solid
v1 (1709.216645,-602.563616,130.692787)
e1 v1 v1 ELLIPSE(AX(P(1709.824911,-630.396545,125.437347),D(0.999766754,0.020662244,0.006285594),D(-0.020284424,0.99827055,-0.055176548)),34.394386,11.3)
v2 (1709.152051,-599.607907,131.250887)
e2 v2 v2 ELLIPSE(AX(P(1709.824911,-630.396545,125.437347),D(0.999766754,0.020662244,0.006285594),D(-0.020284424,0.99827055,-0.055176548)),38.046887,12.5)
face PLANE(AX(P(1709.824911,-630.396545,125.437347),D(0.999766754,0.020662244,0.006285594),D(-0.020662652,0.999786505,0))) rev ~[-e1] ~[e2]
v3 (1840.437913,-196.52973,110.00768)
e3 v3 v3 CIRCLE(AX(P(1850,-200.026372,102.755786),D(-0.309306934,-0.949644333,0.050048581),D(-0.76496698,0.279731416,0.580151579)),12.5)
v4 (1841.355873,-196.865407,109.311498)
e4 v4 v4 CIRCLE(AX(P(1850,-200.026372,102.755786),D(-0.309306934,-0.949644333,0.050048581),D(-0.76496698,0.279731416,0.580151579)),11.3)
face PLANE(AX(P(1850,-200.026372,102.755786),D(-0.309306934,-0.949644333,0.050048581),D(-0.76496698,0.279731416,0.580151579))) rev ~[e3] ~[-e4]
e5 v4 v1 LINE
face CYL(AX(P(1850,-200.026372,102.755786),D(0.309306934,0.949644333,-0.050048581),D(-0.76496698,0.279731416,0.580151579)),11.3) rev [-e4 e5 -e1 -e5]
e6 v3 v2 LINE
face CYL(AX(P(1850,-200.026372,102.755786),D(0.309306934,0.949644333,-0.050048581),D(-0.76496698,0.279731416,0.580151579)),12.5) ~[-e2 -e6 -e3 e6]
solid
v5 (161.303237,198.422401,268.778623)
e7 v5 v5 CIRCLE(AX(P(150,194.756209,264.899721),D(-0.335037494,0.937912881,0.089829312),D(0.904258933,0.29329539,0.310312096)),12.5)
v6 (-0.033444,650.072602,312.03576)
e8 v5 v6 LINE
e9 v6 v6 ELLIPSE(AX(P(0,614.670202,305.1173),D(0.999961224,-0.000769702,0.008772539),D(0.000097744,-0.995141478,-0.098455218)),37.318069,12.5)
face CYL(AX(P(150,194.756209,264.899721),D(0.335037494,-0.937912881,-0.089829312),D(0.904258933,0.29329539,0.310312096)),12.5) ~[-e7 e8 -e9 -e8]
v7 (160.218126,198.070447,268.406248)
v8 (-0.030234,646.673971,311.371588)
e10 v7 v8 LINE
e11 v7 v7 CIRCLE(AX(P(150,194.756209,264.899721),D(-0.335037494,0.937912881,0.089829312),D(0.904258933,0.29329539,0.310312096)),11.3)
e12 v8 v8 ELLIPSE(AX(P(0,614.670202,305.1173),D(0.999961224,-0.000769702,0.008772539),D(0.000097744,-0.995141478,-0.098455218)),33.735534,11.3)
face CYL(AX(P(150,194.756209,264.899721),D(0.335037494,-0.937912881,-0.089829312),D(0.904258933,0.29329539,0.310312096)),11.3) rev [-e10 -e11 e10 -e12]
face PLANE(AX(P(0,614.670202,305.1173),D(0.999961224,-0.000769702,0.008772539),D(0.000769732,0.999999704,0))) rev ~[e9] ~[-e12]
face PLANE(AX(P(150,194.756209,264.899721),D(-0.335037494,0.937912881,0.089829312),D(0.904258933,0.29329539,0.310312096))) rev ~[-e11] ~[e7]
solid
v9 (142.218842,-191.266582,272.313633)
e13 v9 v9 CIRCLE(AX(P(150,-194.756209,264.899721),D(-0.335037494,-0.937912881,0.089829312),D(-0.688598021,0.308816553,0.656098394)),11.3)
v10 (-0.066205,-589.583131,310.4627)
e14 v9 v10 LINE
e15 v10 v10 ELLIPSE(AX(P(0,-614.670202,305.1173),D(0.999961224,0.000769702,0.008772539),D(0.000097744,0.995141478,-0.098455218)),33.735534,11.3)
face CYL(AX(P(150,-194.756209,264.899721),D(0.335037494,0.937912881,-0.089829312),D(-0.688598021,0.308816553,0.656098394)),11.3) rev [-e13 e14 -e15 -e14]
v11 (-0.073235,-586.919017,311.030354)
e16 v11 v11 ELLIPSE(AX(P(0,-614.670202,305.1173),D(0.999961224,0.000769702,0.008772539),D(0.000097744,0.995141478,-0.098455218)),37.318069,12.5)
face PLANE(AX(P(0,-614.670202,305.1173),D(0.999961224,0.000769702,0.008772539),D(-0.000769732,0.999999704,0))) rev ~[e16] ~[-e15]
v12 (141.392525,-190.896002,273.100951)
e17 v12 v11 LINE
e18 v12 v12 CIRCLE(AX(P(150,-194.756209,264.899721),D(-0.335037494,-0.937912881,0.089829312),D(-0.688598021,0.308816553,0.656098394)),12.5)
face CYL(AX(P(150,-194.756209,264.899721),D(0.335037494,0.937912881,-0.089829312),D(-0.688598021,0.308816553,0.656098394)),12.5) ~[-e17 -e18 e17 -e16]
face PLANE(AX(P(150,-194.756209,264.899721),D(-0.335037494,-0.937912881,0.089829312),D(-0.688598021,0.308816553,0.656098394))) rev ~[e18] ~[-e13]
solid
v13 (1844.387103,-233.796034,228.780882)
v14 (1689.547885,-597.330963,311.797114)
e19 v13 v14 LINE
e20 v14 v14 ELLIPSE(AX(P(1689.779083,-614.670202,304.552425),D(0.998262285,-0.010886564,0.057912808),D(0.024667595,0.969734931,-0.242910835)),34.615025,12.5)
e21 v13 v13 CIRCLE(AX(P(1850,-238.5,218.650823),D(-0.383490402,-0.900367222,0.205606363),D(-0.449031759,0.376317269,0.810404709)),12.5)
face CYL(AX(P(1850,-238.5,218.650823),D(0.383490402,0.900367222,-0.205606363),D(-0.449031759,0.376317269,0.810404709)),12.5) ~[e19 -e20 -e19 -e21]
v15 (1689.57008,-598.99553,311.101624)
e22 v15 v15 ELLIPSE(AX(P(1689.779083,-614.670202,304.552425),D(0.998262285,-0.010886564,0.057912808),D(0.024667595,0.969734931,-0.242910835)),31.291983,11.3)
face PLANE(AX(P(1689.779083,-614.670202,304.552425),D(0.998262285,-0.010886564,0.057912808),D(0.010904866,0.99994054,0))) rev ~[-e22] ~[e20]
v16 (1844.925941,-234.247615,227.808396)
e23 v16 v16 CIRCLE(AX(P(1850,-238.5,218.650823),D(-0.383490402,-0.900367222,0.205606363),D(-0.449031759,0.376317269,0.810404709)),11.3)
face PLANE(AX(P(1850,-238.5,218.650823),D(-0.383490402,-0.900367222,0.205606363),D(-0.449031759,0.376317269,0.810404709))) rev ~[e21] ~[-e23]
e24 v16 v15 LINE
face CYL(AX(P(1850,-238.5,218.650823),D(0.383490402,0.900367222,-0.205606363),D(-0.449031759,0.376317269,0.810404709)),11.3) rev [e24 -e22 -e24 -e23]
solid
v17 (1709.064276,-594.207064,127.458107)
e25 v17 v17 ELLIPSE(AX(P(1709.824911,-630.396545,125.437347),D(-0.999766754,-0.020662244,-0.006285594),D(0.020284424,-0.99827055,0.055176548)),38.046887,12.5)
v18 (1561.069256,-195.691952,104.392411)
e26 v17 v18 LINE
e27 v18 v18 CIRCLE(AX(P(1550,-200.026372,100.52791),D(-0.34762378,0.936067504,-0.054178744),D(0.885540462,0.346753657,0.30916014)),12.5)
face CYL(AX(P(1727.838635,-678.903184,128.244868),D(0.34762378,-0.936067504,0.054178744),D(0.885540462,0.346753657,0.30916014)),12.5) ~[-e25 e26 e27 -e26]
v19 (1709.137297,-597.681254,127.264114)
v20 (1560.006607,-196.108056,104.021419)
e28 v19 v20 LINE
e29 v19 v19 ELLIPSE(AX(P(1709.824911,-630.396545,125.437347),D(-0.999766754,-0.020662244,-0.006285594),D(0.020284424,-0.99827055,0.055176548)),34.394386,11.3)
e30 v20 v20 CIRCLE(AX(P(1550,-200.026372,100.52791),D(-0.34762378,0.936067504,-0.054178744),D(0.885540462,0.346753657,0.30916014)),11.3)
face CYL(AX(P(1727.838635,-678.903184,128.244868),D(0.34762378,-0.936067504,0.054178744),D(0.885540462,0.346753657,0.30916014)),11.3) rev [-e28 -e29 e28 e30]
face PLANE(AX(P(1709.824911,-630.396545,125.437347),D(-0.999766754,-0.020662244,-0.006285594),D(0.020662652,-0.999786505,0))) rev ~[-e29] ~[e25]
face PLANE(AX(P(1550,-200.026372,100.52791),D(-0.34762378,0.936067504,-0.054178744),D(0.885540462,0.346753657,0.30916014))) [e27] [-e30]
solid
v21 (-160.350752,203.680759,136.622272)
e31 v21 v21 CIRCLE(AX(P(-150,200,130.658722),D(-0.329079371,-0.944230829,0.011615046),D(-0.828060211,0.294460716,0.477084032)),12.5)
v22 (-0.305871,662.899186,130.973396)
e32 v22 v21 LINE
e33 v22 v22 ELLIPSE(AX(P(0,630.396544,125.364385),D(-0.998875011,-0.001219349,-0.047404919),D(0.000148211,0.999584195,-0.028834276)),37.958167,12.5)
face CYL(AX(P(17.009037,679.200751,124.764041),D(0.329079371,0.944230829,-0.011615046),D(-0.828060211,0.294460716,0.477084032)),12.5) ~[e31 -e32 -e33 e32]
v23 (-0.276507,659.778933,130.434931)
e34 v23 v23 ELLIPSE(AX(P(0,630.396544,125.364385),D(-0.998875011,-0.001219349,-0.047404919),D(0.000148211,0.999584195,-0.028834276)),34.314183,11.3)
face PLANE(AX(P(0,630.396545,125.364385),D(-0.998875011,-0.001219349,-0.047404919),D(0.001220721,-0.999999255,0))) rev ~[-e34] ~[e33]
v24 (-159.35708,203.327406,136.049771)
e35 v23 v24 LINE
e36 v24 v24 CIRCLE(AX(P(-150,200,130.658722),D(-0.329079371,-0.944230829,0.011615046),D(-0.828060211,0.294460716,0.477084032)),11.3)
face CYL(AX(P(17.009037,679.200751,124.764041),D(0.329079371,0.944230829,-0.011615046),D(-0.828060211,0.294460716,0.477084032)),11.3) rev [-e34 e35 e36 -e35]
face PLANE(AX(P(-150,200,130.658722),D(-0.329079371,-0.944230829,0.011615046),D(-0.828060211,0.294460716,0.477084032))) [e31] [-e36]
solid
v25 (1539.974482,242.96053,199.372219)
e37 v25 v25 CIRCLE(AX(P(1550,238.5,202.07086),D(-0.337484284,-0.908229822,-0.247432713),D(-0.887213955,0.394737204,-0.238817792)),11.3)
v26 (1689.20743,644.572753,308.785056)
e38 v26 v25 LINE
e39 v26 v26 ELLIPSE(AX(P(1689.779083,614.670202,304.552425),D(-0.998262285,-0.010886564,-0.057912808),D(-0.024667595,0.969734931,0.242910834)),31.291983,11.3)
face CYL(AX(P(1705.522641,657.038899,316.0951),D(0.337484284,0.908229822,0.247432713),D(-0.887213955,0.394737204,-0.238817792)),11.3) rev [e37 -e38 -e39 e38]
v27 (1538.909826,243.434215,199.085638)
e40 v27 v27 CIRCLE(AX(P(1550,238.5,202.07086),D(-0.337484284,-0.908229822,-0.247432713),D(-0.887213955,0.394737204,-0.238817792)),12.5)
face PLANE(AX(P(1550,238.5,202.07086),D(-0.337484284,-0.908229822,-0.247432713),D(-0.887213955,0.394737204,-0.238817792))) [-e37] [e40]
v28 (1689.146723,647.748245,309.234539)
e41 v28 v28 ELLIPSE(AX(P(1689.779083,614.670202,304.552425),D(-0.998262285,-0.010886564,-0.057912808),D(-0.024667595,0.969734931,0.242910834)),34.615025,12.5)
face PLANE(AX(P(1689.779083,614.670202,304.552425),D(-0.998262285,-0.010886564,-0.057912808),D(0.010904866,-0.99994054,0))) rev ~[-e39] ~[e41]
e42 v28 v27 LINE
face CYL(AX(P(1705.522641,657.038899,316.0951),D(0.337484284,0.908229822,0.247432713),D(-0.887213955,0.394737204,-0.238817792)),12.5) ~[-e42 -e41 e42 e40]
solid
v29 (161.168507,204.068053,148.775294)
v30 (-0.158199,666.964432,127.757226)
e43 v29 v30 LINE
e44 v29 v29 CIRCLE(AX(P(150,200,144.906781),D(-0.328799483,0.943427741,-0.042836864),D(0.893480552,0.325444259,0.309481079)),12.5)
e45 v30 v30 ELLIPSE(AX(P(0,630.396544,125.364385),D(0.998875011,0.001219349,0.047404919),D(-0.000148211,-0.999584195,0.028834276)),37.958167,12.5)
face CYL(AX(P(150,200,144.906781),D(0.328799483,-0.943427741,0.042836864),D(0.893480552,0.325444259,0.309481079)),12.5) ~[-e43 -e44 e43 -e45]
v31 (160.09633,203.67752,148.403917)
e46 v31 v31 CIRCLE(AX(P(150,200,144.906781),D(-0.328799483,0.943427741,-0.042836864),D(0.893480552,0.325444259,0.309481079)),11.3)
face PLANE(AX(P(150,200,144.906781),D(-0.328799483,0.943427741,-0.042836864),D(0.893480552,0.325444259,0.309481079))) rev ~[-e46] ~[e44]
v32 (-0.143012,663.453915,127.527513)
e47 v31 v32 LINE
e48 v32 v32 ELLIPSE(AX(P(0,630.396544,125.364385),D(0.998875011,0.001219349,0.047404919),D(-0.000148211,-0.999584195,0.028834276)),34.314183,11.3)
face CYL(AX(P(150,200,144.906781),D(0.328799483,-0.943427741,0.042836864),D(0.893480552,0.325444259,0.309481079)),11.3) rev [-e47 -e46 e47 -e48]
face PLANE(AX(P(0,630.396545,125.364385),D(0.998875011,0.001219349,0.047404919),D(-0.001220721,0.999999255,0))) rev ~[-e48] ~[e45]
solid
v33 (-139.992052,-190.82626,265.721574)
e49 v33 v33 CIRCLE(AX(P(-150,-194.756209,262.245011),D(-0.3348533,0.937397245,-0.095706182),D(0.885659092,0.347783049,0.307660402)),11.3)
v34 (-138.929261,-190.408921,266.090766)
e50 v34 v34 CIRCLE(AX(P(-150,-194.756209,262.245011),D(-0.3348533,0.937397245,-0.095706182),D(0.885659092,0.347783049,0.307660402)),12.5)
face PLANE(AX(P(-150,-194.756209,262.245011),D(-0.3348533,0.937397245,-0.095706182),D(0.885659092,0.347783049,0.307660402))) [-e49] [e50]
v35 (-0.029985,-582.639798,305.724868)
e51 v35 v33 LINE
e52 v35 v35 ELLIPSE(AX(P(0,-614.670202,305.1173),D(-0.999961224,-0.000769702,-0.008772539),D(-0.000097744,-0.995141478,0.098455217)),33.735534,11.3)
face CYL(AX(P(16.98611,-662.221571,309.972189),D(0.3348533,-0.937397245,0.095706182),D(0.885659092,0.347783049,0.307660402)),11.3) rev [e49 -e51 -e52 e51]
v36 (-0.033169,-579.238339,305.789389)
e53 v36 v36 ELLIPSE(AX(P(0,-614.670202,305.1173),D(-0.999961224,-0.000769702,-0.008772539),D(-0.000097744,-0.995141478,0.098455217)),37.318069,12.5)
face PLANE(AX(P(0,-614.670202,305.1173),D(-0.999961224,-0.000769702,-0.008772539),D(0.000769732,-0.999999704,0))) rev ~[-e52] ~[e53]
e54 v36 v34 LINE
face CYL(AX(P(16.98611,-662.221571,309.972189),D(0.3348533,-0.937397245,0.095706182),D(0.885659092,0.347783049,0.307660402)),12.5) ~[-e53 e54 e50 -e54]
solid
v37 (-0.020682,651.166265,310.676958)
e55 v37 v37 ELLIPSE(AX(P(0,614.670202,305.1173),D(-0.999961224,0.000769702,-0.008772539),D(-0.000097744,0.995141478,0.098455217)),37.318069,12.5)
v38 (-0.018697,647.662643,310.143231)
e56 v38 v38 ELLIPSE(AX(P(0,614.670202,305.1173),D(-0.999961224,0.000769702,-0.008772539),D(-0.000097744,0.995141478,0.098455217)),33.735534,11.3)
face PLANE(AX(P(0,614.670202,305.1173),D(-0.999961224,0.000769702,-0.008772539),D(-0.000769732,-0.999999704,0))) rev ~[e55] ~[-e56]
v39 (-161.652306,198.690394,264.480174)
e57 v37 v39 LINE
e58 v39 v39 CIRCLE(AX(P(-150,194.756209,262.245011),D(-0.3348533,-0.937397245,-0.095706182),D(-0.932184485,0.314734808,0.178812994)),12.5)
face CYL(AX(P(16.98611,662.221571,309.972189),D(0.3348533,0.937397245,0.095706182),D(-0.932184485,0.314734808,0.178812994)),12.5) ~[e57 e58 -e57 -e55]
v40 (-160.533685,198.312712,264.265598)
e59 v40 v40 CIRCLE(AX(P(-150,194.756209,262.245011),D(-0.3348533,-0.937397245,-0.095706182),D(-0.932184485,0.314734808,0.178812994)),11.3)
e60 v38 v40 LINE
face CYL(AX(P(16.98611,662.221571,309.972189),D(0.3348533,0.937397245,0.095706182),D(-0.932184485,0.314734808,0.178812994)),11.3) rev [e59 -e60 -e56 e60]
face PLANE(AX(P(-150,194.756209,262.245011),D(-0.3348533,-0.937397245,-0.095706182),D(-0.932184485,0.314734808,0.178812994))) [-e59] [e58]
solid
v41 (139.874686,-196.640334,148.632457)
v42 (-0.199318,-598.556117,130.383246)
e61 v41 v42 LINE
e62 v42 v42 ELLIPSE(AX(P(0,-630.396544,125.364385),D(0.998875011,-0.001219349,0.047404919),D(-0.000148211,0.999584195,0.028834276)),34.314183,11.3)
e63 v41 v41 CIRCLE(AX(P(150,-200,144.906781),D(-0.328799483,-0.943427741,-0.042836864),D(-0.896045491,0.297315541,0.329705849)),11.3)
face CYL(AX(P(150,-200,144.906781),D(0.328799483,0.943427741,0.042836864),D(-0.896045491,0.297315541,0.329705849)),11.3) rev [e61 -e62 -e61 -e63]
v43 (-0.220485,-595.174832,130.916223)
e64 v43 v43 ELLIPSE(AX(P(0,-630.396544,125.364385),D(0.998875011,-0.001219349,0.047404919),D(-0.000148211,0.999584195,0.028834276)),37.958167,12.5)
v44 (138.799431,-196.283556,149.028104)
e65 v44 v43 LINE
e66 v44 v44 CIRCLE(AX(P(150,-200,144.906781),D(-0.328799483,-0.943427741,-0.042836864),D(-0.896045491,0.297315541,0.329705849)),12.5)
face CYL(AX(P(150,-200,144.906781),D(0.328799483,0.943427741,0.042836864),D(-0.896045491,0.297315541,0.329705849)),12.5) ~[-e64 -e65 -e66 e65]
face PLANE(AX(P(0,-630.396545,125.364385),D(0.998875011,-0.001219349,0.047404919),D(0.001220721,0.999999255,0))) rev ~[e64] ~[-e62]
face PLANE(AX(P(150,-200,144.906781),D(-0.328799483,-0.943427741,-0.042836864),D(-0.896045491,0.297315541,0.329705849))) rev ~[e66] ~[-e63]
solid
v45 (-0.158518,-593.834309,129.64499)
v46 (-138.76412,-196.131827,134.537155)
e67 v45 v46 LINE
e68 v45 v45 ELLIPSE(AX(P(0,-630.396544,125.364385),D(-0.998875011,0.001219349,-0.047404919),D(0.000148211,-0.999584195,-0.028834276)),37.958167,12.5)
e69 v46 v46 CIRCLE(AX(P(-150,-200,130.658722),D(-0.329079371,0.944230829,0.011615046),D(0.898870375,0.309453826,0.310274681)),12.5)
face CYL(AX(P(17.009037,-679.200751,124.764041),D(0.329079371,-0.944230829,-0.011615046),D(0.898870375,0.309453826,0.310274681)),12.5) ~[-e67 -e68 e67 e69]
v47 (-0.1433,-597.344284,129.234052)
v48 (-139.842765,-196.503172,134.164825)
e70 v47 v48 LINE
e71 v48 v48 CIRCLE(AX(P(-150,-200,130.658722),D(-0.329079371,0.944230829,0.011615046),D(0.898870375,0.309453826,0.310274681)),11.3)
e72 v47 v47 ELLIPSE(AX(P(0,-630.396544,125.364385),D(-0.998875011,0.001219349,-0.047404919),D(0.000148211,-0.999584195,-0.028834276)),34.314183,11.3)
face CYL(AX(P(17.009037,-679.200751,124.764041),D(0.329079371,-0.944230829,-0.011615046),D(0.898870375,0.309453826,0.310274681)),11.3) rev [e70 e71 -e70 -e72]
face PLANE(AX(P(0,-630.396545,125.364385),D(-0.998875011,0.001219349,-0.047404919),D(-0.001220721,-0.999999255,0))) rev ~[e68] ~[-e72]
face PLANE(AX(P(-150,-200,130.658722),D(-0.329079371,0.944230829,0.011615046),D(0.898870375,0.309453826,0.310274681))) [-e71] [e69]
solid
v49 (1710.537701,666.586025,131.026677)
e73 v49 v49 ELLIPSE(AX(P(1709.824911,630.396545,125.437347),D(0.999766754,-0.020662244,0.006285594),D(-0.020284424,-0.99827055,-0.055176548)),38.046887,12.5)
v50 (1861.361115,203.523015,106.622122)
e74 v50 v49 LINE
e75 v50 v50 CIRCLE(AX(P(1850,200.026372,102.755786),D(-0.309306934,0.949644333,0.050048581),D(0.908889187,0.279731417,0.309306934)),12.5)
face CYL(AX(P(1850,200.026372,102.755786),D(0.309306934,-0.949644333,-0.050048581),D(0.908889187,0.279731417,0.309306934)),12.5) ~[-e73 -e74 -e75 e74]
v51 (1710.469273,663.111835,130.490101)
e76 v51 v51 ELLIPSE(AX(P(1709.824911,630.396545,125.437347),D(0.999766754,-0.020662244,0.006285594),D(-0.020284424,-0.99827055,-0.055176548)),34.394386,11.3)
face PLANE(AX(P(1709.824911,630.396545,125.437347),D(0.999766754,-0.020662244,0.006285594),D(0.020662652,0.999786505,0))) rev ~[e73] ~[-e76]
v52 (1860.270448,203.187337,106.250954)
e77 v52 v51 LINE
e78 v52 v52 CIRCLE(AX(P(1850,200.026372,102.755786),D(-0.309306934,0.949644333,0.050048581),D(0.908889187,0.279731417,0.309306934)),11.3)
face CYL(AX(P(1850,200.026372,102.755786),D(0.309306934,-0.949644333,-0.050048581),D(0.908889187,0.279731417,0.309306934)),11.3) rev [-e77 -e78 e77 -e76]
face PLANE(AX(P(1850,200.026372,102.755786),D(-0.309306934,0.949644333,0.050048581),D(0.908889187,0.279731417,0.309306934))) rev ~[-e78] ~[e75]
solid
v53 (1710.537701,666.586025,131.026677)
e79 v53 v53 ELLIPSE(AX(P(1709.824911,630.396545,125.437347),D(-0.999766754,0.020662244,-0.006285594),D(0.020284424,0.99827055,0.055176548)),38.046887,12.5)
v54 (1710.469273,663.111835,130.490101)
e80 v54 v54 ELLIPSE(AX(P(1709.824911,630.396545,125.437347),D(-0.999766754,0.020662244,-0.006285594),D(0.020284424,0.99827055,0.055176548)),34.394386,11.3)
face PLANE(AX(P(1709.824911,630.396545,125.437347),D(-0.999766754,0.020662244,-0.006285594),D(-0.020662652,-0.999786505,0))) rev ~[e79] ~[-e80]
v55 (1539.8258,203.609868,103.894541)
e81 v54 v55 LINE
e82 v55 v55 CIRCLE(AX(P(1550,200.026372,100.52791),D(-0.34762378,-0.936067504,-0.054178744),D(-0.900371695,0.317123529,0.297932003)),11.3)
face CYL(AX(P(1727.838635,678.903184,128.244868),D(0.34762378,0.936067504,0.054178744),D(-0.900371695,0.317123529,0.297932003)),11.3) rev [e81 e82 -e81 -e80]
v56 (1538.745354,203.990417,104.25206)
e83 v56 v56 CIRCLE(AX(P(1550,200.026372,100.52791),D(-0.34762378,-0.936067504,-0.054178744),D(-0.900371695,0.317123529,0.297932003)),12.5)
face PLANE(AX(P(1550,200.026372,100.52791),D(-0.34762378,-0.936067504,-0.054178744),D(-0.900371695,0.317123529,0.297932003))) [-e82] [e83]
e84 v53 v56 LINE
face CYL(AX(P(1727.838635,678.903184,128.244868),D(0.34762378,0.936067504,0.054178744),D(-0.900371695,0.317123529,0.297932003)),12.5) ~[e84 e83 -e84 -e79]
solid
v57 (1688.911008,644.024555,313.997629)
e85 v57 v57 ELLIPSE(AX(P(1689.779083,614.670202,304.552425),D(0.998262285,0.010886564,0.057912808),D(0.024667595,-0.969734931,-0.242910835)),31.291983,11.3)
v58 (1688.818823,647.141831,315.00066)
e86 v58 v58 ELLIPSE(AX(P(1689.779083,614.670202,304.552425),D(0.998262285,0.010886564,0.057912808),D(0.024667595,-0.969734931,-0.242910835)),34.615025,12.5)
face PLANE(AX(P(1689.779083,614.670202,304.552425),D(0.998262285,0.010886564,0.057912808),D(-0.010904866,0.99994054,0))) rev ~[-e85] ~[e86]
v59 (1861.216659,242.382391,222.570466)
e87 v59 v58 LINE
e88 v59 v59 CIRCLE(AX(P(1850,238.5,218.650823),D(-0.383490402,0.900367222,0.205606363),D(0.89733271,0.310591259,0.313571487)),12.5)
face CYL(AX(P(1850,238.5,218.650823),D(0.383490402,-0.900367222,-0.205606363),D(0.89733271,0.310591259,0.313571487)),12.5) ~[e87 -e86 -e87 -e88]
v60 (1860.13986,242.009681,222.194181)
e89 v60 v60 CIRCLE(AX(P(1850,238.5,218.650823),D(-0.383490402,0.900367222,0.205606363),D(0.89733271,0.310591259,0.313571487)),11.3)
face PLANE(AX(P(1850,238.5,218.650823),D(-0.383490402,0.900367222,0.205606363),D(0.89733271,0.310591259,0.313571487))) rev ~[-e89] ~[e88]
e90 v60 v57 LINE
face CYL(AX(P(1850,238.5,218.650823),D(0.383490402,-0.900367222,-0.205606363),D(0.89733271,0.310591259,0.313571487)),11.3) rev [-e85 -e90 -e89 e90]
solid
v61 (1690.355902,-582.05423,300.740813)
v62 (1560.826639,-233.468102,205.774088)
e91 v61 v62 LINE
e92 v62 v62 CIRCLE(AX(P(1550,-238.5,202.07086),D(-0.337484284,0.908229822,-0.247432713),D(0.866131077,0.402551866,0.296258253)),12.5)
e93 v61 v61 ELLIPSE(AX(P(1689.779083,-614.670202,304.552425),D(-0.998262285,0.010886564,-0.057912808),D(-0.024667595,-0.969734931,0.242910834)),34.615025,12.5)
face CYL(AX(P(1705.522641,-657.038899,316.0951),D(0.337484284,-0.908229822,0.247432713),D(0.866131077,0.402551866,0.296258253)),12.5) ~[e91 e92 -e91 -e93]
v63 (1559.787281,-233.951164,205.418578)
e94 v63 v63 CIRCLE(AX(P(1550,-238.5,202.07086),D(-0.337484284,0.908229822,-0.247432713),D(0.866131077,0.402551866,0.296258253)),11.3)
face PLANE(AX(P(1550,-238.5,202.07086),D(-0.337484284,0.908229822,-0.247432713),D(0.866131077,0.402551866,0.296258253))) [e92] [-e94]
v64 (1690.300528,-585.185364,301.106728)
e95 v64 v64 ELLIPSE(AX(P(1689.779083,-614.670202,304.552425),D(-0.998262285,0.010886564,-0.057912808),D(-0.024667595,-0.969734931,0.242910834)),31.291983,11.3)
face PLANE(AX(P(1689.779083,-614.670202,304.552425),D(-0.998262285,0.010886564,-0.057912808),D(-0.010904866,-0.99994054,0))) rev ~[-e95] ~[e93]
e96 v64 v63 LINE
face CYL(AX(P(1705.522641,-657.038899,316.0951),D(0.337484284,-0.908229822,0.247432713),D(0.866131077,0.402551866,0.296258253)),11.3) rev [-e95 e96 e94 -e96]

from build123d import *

# Parameters (mm, degrees)
SKETCH1_R                                   = 12.5
SKETCH1_R_2                                 = 11.3
SIZE_C_TUBING_FSAE_SIZE_C_TUBING_1_DEPTH    = 505.010497452
SKETCH1_ON_SEGMENT_2_R                      = 12.5
SKETCH1_ON_SEGMENT_2_R_2                    = 11.3
SIZE_C_TUBING_FSAE_SIZE_C_TUBING_1_2_DEPTH  = 511.58362987
SKETCH1_ON_SEGMENT_3_R                      = 12.5
SKETCH1_ON_SEGMENT_3_R_2                    = 11.3
SIZE_C_TUBING_FSAE_SIZE_C_TUBING_1_3_DEPTH  = 464.446173361
SKETCH1_ON_SEGMENT_4_R                      = 12.5
SKETCH1_ON_SEGMENT_4_R_2                    = 11.3
SIZE_C_TUBING_FSAE_SIZE_C_TUBING_1_4_DEPTH  = 460.829284715
SKETCH1_ON_SEGMENT_5_R                      = 12.5
SKETCH1_ON_SEGMENT_5_R_2                    = 11.3
SIZE_C_TUBING_FSAE_SIZE_C_TUBING_1_5_DEPTH  = 505.010497452
SKETCH1_ON_SEGMENT_6_R                      = 12.5
SKETCH1_ON_SEGMENT_6_R_2                    = 11.3
SIZE_C_TUBING_FSAE_SIZE_C_TUBING_1_6_DEPTH  = 511.58362987
SKETCH1_ON_SEGMENT_7_R                      = 12.5
SKETCH1_ON_SEGMENT_7_R_2                    = 11.3
SIZE_C_TUBING_FSAE_SIZE_C_TUBING_1_7_DEPTH  = 464.446173361
SKETCH1_ON_SEGMENT_8_R                      = 12.5
SKETCH1_ON_SEGMENT_8_R_2                    = 11.3
SIZE_C_TUBING_FSAE_SIZE_C_TUBING_1_8_DEPTH  = 460.829284715
SKETCH1_ON_SEGMENT_9_R                      = 12.5
SKETCH1_ON_SEGMENT_9_R_2                    = 11.3
SIZE_C_TUBING_FSAE_SIZE_C_TUBING_1_9_DEPTH  = 507.891829763
SKETCH1_ON_SEGMENT_10_R                     = 12.5
SKETCH1_ON_SEGMENT_10_R_2                   = 11.3
SIZE_C_TUBING_FSAE_SIZE_C_TUBING_1_10_DEPTH = 507.503818109
SKETCH1_ON_SEGMENT_11_R                     = 12.5
SKETCH1_ON_SEGMENT_11_R_2                   = 11.3
SIZE_C_TUBING_FSAE_SIZE_C_TUBING_1_11_DEPTH = 498.438104593
SKETCH1_ON_SEGMENT_12_R                     = 12.5
SKETCH1_ON_SEGMENT_12_R_2                   = 11.3
SIZE_C_TUBING_FSAE_SIZE_C_TUBING_1_12_DEPTH = 498.684378219
SKETCH1_ON_SEGMENT_13_R                     = 12.5
SKETCH1_ON_SEGMENT_13_R_2                   = 11.3
SIZE_C_TUBING_FSAE_SIZE_C_TUBING_1_13_DEPTH = 507.891829763
SKETCH1_ON_SEGMENT_14_R                     = 12.5
SKETCH1_ON_SEGMENT_14_R_2                   = 11.3
SIZE_C_TUBING_FSAE_SIZE_C_TUBING_1_14_DEPTH = 507.503818109
SKETCH1_ON_SEGMENT_15_R                     = 12.5
SKETCH1_ON_SEGMENT_15_R_2                   = 11.3
SIZE_C_TUBING_FSAE_SIZE_C_TUBING_1_15_DEPTH = 498.438104593
SKETCH1_ON_SEGMENT_16_R                     = 12.5
SKETCH1_ON_SEGMENT_16_R_2                   = 11.3
SIZE_C_TUBING_FSAE_SIZE_C_TUBING_1_16_DEPTH = 498.684378219


with BuildPart() as part:
    # Sketch1 → Size c tubing FSAE SIZE C TUBING(1) (new body)
    with BuildSketch(Plane(origin=(1850, 200.026372422, 102.755785644), x_dir=(0.9088891872827365, 0.2797314168806091, 0.3093069343718206), z_dir=(-0.30930693437182055, 0.9496443333386347, 0.050048581471671336))):
        Circle(SKETCH1_R)
        Circle(SKETCH1_R_2, mode=Mode.SUBTRACT)
    extrude(amount=SIZE_C_TUBING_FSAE_SIZE_C_TUBING_1_DEPTH)

    # Size c tubing FSAE SIZE C TUBING(1) mitre
    split(bisect_by=Plane(origin=(1709.824911385, 630.396544527, 125.43734743), x_dir=(0.020662652, 0.999786505, 0), z_dir=(0.999766754, -0.020662244, 0.006285594)), keep=Keep.TOP)


with BuildPart() as body_2:
    # Sketch1 on segment 2 (carried to segment 2) → Size c tubing FSAE SIZE C TUBING_1 2 (new body)
    with BuildSketch(Plane(origin=(1727.838634974, 678.903183787, 128.244868038), x_dir=(-0.900371695, 0.317123529, 0.297932003), z_dir=(-0.34762378, -0.936067504, -0.054178744))):
        Circle(SKETCH1_ON_SEGMENT_2_R)
        Circle(SKETCH1_ON_SEGMENT_2_R_2, mode=Mode.SUBTRACT)
    extrude(amount=SIZE_C_TUBING_FSAE_SIZE_C_TUBING_1_2_DEPTH)

    # Size c tubing FSAE SIZE C TUBING_1 2 mit
    split(bisect_by=Plane(origin=(1709.824911385, 630.396544527, 125.43734743), x_dir=(-0.020662652, -0.999786505, 0), z_dir=(-0.999766754, 0.020662244, -0.006285594)), keep=Keep.TOP)


with BuildPart() as body_3:
    # Sketch1 on segment 3 (carried to segment 3) → Size c tubing FSAE SIZE C TUBING_1 3 (new body)
    with BuildSketch(Plane(origin=(1850, 238.5, 218.650822795), x_dir=(0.89733271, 0.310591259, 0.313571487), z_dir=(-0.383490402, 0.900367222, 0.205606363))):
        Circle(SKETCH1_ON_SEGMENT_3_R)
        Circle(SKETCH1_ON_SEGMENT_3_R_2, mode=Mode.SUBTRACT)
    extrude(amount=SIZE_C_TUBING_FSAE_SIZE_C_TUBING_1_3_DEPTH)

    # Size c tubing FSAE SIZE C TUBING_1 3 mit
    split(bisect_by=Plane(origin=(1689.779082802, 614.670202253, 304.5524251), x_dir=(-0.010904866, 0.99994054, 0), z_dir=(0.998262285, 0.010886564, 0.057912808)), keep=Keep.TOP)


with BuildPart() as body_4:
    # Sketch1 on segment 4 (carried to segment 4) → Size c tubing FSAE SIZE C TUBING_1 4 (new body)
    with BuildSketch(Plane(origin=(1705.5226414, 657.038899366, 316.095100127), x_dir=(-0.887213955, 0.394737204, -0.238817792), z_dir=(-0.337484284, -0.908229822, -0.247432713))):
        Circle(SKETCH1_ON_SEGMENT_4_R)
        Circle(SKETCH1_ON_SEGMENT_4_R_2, mode=Mode.SUBTRACT)
    extrude(amount=SIZE_C_TUBING_FSAE_SIZE_C_TUBING_1_4_DEPTH)

    # Size c tubing FSAE SIZE C TUBING_1 4 mit
    split(bisect_by=Plane(origin=(1689.779082802, 614.670202253, 304.5524251), x_dir=(0.010904866, -0.99994054, 0), z_dir=(-0.998262285, -0.010886564, -0.057912808)), keep=Keep.TOP)


with BuildPart() as body_5:
    # Sketch1 on segment 5 (carried to segment 5) → Size c tubing FSAE SIZE C TUBING_1 5 (new body)
    with BuildSketch(Plane(origin=(1850, -200.026372422, 102.755785644), x_dir=(-0.76496698, 0.279731417, 0.580151579), z_dir=(-0.309306934, -0.949644333, 0.050048581))):
        Circle(SKETCH1_ON_SEGMENT_5_R)
        Circle(SKETCH1_ON_SEGMENT_5_R_2, mode=Mode.SUBTRACT)
    extrude(amount=SIZE_C_TUBING_FSAE_SIZE_C_TUBING_1_5_DEPTH)

    # Size c tubing FSAE SIZE C TUBING_1 5 mit
    split(bisect_by=Plane(origin=(1709.824911385, -630.396544527, 125.43734743), x_dir=(-0.020662652, 0.999786505, 0), z_dir=(0.999766754, 0.020662244, 0.006285594)), keep=Keep.TOP)


with BuildPart() as body_6:
    # Sketch1 on segment 6 (carried to segment 6) → Size c tubing FSAE SIZE C TUBING_1 6 (new body)
    with BuildSketch(Plane(origin=(1727.838634974, -678.903183787, 128.244868038), x_dir=(0.885540462, 0.346753657, 0.30916014), z_dir=(-0.34762378, 0.936067504, -0.054178744))):
        Circle(SKETCH1_ON_SEGMENT_6_R)
        Circle(SKETCH1_ON_SEGMENT_6_R_2, mode=Mode.SUBTRACT)
    extrude(amount=SIZE_C_TUBING_FSAE_SIZE_C_TUBING_1_6_DEPTH)

    # Size c tubing FSAE SIZE C TUBING_1 6 mit
    split(bisect_by=Plane(origin=(1709.824911385, -630.396544527, 125.43734743), x_dir=(0.020662652, -0.999786505, 0), z_dir=(-0.999766754, -0.020662244, -0.006285594)), keep=Keep.TOP)


with BuildPart() as body_7:
    # Sketch1 on segment 7 (carried to segment 7) → Size c tubing FSAE SIZE C TUBING_1 7 (new body)
    with BuildSketch(Plane(origin=(1850, -238.5, 218.650822795), x_dir=(-0.449031759, 0.376317269, 0.810404709), z_dir=(-0.383490402, -0.900367222, 0.205606363))):
        Circle(SKETCH1_ON_SEGMENT_7_R)
        Circle(SKETCH1_ON_SEGMENT_7_R_2, mode=Mode.SUBTRACT)
    extrude(amount=SIZE_C_TUBING_FSAE_SIZE_C_TUBING_1_7_DEPTH)

    # Size c tubing FSAE SIZE C TUBING_1 7 mit
    split(bisect_by=Plane(origin=(1689.779082802, -614.670202253, 304.5524251), x_dir=(0.010904866, 0.99994054, 0), z_dir=(0.998262285, -0.010886564, 0.057912808)), keep=Keep.TOP)


with BuildPart() as body_8:
    # Sketch1 on segment 8 (carried to segment 8) → Size c tubing FSAE SIZE C TUBING_1 8 (new body)
    with BuildSketch(Plane(origin=(1705.5226414, -657.038899366, 316.095100127), x_dir=(0.866131077, 0.402551866, 0.296258253), z_dir=(-0.337484284, 0.908229822, -0.247432713))):
        Circle(SKETCH1_ON_SEGMENT_8_R)
        Circle(SKETCH1_ON_SEGMENT_8_R_2, mode=Mode.SUBTRACT)
    extrude(amount=SIZE_C_TUBING_FSAE_SIZE_C_TUBING_1_8_DEPTH)

    # Size c tubing FSAE SIZE C TUBING_1 8 mit
    split(bisect_by=Plane(origin=(1689.779082802, -614.670202253, 304.5524251), x_dir=(-0.010904866, -0.99994054, 0), z_dir=(-0.998262285, 0.010886564, -0.057912808)), keep=Keep.TOP)


with BuildPart() as body_9:
    # Sketch1 on segment 9 (carried to segment 9) → Size c tubing FSAE SIZE C TUBING_1 9 (new body)
    with BuildSketch(Plane(origin=(150, -200, 144.906781001), x_dir=(-0.896045491, 0.297315541, 0.329705849), z_dir=(-0.328799483, -0.943427741, -0.042836864))):
        Circle(SKETCH1_ON_SEGMENT_9_R)
        Circle(SKETCH1_ON_SEGMENT_9_R_2, mode=Mode.SUBTRACT)
    extrude(amount=SIZE_C_TUBING_FSAE_SIZE_C_TUBING_1_9_DEPTH)

    # Size c tubing FSAE SIZE C TUBING_1 9 mit
    split(bisect_by=Plane(origin=(0, -630.396544527, 125.36438514), x_dir=(0.001220721, 0.999999255, 0), z_dir=(0.998875011, -0.001219349, 0.047404919)), keep=Keep.TOP)


with BuildPart() as body_10:
    # Sketch1 on segment 10 (carried to segment 10) → Size c tubing FSAE SIZE C TUBING_1 10 (new body)
    with BuildSketch(Plane(origin=(17.009037437, -679.200750785, 124.764041342), x_dir=(0.898870375, 0.309453827, 0.310274681), z_dir=(-0.329079371, 0.944230829, 0.011615046))):
        Circle(SKETCH1_ON_SEGMENT_10_R)
        Circle(SKETCH1_ON_SEGMENT_10_R_2, mode=Mode.SUBTRACT)
    extrude(amount=SIZE_C_TUBING_FSAE_SIZE_C_TUBING_1_10_DEPTH)

    # Size c tubing FSAE SIZE C TUBING_1 10 mi
    split(bisect_by=Plane(origin=(0, -630.396544527, 125.36438514), x_dir=(-0.001220721, -0.999999255, 0), z_dir=(-0.998875011, 0.001219349, -0.047404919)), keep=Keep.TOP)


with BuildPart() as body_11:
    # Sketch1 on segment 11 (carried to segment 11) → Size c tubing FSAE SIZE C TUBING_1 11 (new body)
    with BuildSketch(Plane(origin=(150, -194.756208727, 264.899721344), x_dir=(-0.688598021, 0.308816552, 0.656098394), z_dir=(-0.335037494, -0.937912881, 0.089829312))):
        Circle(SKETCH1_ON_SEGMENT_11_R)
        Circle(SKETCH1_ON_SEGMENT_11_R_2, mode=Mode.SUBTRACT)
    extrude(amount=SIZE_C_TUBING_FSAE_SIZE_C_TUBING_1_11_DEPTH)

    # Size c tubing FSAE SIZE C TUBING_1 11 mi
    split(bisect_by=Plane(origin=(0, -614.670202253, 305.117299862), x_dir=(-0.000769732, 0.999999704, 0), z_dir=(0.999961224, 0.000769702, 0.008772539)), keep=Keep.TOP)


with BuildPart() as body_12:
    # Sketch1 on segment 12 (carried to segment 12) → Size c tubing FSAE SIZE C TUBING_1 12 (new body)
    with BuildSketch(Plane(origin=(16.986109954, -662.221570689, 309.97218926), x_dir=(0.885659092, 0.34778305, 0.307660402), z_dir=(-0.3348533, 0.937397244, -0.095706182))):
        Circle(SKETCH1_ON_SEGMENT_12_R)
        Circle(SKETCH1_ON_SEGMENT_12_R_2, mode=Mode.SUBTRACT)
    extrude(amount=SIZE_C_TUBING_FSAE_SIZE_C_TUBING_1_12_DEPTH)

    # Size c tubing FSAE SIZE C TUBING_1 12 mi
    split(bisect_by=Plane(origin=(0, -614.670202253, 305.117299862), x_dir=(0.000769732, -0.999999704, 0), z_dir=(-0.999961224, -0.000769702, -0.008772539)), keep=Keep.TOP)


with BuildPart() as body_13:
    # Sketch1 on segment 13 (carried to segment 13) → Size c tubing FSAE SIZE C TUBING_1 13 (new body)
    with BuildSketch(Plane(origin=(150, 200, 144.906781001), x_dir=(0.893480552, 0.325444259, 0.309481079), z_dir=(-0.328799483, 0.943427741, -0.042836864))):
        Circle(SKETCH1_ON_SEGMENT_13_R)
        Circle(SKETCH1_ON_SEGMENT_13_R_2, mode=Mode.SUBTRACT)
    extrude(amount=SIZE_C_TUBING_FSAE_SIZE_C_TUBING_1_13_DEPTH)

    # Size c tubing FSAE SIZE C TUBING_1 13 mi
    split(bisect_by=Plane(origin=(0, 630.396544527, 125.36438514), x_dir=(-0.001220721, 0.999999255, 0), z_dir=(0.998875011, 0.001219349, 0.047404919)), keep=Keep.TOP)


with BuildPart() as body_14:
    # Sketch1 on segment 14 (carried to segment 14) → Size c tubing FSAE SIZE C TUBING_1 14 (new body)
    with BuildSketch(Plane(origin=(17.009037437, 679.200750785, 124.764041342), x_dir=(-0.828060211, 0.294460717, 0.477084032), z_dir=(-0.329079371, -0.944230829, 0.011615046))):
        Circle(SKETCH1_ON_SEGMENT_14_R)
        Circle(SKETCH1_ON_SEGMENT_14_R_2, mode=Mode.SUBTRACT)
    extrude(amount=SIZE_C_TUBING_FSAE_SIZE_C_TUBING_1_14_DEPTH)

    # Size c tubing FSAE SIZE C TUBING_1 14 mi
    split(bisect_by=Plane(origin=(0, 630.396544527, 125.36438514), x_dir=(0.001220721, -0.999999255, 0), z_dir=(-0.998875011, -0.001219349, -0.047404919)), keep=Keep.TOP)


with BuildPart() as body_15:
    # Sketch1 on segment 15 (carried to segment 15) → Size c tubing FSAE SIZE C TUBING_1 15 (new body)
    with BuildSketch(Plane(origin=(150, 194.756208727, 264.899721344), x_dir=(0.904258932, 0.293295391, 0.310312096), z_dir=(-0.335037494, 0.937912881, 0.089829312))):
        Circle(SKETCH1_ON_SEGMENT_15_R)
        Circle(SKETCH1_ON_SEGMENT_15_R_2, mode=Mode.SUBTRACT)
    extrude(amount=SIZE_C_TUBING_FSAE_SIZE_C_TUBING_1_15_DEPTH)

    # Size c tubing FSAE SIZE C TUBING_1 15 mi
    split(bisect_by=Plane(origin=(0, 614.670202253, 305.117299862), x_dir=(0.000769732, 0.999999704, 0), z_dir=(0.999961224, -0.000769702, 0.008772539)), keep=Keep.TOP)


with BuildPart() as body_16:
    # Sketch1 on segment 16 (carried to segment 16) → Size c tubing FSAE SIZE C TUBING_1 16 (new body)
    with BuildSketch(Plane(origin=(16.986109954, 662.221570689, 309.97218926), x_dir=(-0.932184485, 0.314734809, 0.178812994), z_dir=(-0.3348533, -0.937397244, -0.095706182))):
        Circle(SKETCH1_ON_SEGMENT_16_R)
        Circle(SKETCH1_ON_SEGMENT_16_R_2, mode=Mode.SUBTRACT)
    extrude(amount=SIZE_C_TUBING_FSAE_SIZE_C_TUBING_1_16_DEPTH)

    # Size c tubing FSAE SIZE C TUBING_1 16 mi
    split(bisect_by=Plane(origin=(0, 614.670202253, 305.117299862), x_dir=(-0.000769732, -0.999999704, 0), z_dir=(-0.999961224, 0.000769702, -0.008772539)), keep=Keep.TOP)


solid = Compound([part.part, body_2.part, body_3.part, body_4.part, body_5.part, body_6.part, body_7.part, body_8.part, body_9.part, body_10.part, body_11.part, body_12.part, body_13.part, body_14.part, body_15.part, body_16.part])
